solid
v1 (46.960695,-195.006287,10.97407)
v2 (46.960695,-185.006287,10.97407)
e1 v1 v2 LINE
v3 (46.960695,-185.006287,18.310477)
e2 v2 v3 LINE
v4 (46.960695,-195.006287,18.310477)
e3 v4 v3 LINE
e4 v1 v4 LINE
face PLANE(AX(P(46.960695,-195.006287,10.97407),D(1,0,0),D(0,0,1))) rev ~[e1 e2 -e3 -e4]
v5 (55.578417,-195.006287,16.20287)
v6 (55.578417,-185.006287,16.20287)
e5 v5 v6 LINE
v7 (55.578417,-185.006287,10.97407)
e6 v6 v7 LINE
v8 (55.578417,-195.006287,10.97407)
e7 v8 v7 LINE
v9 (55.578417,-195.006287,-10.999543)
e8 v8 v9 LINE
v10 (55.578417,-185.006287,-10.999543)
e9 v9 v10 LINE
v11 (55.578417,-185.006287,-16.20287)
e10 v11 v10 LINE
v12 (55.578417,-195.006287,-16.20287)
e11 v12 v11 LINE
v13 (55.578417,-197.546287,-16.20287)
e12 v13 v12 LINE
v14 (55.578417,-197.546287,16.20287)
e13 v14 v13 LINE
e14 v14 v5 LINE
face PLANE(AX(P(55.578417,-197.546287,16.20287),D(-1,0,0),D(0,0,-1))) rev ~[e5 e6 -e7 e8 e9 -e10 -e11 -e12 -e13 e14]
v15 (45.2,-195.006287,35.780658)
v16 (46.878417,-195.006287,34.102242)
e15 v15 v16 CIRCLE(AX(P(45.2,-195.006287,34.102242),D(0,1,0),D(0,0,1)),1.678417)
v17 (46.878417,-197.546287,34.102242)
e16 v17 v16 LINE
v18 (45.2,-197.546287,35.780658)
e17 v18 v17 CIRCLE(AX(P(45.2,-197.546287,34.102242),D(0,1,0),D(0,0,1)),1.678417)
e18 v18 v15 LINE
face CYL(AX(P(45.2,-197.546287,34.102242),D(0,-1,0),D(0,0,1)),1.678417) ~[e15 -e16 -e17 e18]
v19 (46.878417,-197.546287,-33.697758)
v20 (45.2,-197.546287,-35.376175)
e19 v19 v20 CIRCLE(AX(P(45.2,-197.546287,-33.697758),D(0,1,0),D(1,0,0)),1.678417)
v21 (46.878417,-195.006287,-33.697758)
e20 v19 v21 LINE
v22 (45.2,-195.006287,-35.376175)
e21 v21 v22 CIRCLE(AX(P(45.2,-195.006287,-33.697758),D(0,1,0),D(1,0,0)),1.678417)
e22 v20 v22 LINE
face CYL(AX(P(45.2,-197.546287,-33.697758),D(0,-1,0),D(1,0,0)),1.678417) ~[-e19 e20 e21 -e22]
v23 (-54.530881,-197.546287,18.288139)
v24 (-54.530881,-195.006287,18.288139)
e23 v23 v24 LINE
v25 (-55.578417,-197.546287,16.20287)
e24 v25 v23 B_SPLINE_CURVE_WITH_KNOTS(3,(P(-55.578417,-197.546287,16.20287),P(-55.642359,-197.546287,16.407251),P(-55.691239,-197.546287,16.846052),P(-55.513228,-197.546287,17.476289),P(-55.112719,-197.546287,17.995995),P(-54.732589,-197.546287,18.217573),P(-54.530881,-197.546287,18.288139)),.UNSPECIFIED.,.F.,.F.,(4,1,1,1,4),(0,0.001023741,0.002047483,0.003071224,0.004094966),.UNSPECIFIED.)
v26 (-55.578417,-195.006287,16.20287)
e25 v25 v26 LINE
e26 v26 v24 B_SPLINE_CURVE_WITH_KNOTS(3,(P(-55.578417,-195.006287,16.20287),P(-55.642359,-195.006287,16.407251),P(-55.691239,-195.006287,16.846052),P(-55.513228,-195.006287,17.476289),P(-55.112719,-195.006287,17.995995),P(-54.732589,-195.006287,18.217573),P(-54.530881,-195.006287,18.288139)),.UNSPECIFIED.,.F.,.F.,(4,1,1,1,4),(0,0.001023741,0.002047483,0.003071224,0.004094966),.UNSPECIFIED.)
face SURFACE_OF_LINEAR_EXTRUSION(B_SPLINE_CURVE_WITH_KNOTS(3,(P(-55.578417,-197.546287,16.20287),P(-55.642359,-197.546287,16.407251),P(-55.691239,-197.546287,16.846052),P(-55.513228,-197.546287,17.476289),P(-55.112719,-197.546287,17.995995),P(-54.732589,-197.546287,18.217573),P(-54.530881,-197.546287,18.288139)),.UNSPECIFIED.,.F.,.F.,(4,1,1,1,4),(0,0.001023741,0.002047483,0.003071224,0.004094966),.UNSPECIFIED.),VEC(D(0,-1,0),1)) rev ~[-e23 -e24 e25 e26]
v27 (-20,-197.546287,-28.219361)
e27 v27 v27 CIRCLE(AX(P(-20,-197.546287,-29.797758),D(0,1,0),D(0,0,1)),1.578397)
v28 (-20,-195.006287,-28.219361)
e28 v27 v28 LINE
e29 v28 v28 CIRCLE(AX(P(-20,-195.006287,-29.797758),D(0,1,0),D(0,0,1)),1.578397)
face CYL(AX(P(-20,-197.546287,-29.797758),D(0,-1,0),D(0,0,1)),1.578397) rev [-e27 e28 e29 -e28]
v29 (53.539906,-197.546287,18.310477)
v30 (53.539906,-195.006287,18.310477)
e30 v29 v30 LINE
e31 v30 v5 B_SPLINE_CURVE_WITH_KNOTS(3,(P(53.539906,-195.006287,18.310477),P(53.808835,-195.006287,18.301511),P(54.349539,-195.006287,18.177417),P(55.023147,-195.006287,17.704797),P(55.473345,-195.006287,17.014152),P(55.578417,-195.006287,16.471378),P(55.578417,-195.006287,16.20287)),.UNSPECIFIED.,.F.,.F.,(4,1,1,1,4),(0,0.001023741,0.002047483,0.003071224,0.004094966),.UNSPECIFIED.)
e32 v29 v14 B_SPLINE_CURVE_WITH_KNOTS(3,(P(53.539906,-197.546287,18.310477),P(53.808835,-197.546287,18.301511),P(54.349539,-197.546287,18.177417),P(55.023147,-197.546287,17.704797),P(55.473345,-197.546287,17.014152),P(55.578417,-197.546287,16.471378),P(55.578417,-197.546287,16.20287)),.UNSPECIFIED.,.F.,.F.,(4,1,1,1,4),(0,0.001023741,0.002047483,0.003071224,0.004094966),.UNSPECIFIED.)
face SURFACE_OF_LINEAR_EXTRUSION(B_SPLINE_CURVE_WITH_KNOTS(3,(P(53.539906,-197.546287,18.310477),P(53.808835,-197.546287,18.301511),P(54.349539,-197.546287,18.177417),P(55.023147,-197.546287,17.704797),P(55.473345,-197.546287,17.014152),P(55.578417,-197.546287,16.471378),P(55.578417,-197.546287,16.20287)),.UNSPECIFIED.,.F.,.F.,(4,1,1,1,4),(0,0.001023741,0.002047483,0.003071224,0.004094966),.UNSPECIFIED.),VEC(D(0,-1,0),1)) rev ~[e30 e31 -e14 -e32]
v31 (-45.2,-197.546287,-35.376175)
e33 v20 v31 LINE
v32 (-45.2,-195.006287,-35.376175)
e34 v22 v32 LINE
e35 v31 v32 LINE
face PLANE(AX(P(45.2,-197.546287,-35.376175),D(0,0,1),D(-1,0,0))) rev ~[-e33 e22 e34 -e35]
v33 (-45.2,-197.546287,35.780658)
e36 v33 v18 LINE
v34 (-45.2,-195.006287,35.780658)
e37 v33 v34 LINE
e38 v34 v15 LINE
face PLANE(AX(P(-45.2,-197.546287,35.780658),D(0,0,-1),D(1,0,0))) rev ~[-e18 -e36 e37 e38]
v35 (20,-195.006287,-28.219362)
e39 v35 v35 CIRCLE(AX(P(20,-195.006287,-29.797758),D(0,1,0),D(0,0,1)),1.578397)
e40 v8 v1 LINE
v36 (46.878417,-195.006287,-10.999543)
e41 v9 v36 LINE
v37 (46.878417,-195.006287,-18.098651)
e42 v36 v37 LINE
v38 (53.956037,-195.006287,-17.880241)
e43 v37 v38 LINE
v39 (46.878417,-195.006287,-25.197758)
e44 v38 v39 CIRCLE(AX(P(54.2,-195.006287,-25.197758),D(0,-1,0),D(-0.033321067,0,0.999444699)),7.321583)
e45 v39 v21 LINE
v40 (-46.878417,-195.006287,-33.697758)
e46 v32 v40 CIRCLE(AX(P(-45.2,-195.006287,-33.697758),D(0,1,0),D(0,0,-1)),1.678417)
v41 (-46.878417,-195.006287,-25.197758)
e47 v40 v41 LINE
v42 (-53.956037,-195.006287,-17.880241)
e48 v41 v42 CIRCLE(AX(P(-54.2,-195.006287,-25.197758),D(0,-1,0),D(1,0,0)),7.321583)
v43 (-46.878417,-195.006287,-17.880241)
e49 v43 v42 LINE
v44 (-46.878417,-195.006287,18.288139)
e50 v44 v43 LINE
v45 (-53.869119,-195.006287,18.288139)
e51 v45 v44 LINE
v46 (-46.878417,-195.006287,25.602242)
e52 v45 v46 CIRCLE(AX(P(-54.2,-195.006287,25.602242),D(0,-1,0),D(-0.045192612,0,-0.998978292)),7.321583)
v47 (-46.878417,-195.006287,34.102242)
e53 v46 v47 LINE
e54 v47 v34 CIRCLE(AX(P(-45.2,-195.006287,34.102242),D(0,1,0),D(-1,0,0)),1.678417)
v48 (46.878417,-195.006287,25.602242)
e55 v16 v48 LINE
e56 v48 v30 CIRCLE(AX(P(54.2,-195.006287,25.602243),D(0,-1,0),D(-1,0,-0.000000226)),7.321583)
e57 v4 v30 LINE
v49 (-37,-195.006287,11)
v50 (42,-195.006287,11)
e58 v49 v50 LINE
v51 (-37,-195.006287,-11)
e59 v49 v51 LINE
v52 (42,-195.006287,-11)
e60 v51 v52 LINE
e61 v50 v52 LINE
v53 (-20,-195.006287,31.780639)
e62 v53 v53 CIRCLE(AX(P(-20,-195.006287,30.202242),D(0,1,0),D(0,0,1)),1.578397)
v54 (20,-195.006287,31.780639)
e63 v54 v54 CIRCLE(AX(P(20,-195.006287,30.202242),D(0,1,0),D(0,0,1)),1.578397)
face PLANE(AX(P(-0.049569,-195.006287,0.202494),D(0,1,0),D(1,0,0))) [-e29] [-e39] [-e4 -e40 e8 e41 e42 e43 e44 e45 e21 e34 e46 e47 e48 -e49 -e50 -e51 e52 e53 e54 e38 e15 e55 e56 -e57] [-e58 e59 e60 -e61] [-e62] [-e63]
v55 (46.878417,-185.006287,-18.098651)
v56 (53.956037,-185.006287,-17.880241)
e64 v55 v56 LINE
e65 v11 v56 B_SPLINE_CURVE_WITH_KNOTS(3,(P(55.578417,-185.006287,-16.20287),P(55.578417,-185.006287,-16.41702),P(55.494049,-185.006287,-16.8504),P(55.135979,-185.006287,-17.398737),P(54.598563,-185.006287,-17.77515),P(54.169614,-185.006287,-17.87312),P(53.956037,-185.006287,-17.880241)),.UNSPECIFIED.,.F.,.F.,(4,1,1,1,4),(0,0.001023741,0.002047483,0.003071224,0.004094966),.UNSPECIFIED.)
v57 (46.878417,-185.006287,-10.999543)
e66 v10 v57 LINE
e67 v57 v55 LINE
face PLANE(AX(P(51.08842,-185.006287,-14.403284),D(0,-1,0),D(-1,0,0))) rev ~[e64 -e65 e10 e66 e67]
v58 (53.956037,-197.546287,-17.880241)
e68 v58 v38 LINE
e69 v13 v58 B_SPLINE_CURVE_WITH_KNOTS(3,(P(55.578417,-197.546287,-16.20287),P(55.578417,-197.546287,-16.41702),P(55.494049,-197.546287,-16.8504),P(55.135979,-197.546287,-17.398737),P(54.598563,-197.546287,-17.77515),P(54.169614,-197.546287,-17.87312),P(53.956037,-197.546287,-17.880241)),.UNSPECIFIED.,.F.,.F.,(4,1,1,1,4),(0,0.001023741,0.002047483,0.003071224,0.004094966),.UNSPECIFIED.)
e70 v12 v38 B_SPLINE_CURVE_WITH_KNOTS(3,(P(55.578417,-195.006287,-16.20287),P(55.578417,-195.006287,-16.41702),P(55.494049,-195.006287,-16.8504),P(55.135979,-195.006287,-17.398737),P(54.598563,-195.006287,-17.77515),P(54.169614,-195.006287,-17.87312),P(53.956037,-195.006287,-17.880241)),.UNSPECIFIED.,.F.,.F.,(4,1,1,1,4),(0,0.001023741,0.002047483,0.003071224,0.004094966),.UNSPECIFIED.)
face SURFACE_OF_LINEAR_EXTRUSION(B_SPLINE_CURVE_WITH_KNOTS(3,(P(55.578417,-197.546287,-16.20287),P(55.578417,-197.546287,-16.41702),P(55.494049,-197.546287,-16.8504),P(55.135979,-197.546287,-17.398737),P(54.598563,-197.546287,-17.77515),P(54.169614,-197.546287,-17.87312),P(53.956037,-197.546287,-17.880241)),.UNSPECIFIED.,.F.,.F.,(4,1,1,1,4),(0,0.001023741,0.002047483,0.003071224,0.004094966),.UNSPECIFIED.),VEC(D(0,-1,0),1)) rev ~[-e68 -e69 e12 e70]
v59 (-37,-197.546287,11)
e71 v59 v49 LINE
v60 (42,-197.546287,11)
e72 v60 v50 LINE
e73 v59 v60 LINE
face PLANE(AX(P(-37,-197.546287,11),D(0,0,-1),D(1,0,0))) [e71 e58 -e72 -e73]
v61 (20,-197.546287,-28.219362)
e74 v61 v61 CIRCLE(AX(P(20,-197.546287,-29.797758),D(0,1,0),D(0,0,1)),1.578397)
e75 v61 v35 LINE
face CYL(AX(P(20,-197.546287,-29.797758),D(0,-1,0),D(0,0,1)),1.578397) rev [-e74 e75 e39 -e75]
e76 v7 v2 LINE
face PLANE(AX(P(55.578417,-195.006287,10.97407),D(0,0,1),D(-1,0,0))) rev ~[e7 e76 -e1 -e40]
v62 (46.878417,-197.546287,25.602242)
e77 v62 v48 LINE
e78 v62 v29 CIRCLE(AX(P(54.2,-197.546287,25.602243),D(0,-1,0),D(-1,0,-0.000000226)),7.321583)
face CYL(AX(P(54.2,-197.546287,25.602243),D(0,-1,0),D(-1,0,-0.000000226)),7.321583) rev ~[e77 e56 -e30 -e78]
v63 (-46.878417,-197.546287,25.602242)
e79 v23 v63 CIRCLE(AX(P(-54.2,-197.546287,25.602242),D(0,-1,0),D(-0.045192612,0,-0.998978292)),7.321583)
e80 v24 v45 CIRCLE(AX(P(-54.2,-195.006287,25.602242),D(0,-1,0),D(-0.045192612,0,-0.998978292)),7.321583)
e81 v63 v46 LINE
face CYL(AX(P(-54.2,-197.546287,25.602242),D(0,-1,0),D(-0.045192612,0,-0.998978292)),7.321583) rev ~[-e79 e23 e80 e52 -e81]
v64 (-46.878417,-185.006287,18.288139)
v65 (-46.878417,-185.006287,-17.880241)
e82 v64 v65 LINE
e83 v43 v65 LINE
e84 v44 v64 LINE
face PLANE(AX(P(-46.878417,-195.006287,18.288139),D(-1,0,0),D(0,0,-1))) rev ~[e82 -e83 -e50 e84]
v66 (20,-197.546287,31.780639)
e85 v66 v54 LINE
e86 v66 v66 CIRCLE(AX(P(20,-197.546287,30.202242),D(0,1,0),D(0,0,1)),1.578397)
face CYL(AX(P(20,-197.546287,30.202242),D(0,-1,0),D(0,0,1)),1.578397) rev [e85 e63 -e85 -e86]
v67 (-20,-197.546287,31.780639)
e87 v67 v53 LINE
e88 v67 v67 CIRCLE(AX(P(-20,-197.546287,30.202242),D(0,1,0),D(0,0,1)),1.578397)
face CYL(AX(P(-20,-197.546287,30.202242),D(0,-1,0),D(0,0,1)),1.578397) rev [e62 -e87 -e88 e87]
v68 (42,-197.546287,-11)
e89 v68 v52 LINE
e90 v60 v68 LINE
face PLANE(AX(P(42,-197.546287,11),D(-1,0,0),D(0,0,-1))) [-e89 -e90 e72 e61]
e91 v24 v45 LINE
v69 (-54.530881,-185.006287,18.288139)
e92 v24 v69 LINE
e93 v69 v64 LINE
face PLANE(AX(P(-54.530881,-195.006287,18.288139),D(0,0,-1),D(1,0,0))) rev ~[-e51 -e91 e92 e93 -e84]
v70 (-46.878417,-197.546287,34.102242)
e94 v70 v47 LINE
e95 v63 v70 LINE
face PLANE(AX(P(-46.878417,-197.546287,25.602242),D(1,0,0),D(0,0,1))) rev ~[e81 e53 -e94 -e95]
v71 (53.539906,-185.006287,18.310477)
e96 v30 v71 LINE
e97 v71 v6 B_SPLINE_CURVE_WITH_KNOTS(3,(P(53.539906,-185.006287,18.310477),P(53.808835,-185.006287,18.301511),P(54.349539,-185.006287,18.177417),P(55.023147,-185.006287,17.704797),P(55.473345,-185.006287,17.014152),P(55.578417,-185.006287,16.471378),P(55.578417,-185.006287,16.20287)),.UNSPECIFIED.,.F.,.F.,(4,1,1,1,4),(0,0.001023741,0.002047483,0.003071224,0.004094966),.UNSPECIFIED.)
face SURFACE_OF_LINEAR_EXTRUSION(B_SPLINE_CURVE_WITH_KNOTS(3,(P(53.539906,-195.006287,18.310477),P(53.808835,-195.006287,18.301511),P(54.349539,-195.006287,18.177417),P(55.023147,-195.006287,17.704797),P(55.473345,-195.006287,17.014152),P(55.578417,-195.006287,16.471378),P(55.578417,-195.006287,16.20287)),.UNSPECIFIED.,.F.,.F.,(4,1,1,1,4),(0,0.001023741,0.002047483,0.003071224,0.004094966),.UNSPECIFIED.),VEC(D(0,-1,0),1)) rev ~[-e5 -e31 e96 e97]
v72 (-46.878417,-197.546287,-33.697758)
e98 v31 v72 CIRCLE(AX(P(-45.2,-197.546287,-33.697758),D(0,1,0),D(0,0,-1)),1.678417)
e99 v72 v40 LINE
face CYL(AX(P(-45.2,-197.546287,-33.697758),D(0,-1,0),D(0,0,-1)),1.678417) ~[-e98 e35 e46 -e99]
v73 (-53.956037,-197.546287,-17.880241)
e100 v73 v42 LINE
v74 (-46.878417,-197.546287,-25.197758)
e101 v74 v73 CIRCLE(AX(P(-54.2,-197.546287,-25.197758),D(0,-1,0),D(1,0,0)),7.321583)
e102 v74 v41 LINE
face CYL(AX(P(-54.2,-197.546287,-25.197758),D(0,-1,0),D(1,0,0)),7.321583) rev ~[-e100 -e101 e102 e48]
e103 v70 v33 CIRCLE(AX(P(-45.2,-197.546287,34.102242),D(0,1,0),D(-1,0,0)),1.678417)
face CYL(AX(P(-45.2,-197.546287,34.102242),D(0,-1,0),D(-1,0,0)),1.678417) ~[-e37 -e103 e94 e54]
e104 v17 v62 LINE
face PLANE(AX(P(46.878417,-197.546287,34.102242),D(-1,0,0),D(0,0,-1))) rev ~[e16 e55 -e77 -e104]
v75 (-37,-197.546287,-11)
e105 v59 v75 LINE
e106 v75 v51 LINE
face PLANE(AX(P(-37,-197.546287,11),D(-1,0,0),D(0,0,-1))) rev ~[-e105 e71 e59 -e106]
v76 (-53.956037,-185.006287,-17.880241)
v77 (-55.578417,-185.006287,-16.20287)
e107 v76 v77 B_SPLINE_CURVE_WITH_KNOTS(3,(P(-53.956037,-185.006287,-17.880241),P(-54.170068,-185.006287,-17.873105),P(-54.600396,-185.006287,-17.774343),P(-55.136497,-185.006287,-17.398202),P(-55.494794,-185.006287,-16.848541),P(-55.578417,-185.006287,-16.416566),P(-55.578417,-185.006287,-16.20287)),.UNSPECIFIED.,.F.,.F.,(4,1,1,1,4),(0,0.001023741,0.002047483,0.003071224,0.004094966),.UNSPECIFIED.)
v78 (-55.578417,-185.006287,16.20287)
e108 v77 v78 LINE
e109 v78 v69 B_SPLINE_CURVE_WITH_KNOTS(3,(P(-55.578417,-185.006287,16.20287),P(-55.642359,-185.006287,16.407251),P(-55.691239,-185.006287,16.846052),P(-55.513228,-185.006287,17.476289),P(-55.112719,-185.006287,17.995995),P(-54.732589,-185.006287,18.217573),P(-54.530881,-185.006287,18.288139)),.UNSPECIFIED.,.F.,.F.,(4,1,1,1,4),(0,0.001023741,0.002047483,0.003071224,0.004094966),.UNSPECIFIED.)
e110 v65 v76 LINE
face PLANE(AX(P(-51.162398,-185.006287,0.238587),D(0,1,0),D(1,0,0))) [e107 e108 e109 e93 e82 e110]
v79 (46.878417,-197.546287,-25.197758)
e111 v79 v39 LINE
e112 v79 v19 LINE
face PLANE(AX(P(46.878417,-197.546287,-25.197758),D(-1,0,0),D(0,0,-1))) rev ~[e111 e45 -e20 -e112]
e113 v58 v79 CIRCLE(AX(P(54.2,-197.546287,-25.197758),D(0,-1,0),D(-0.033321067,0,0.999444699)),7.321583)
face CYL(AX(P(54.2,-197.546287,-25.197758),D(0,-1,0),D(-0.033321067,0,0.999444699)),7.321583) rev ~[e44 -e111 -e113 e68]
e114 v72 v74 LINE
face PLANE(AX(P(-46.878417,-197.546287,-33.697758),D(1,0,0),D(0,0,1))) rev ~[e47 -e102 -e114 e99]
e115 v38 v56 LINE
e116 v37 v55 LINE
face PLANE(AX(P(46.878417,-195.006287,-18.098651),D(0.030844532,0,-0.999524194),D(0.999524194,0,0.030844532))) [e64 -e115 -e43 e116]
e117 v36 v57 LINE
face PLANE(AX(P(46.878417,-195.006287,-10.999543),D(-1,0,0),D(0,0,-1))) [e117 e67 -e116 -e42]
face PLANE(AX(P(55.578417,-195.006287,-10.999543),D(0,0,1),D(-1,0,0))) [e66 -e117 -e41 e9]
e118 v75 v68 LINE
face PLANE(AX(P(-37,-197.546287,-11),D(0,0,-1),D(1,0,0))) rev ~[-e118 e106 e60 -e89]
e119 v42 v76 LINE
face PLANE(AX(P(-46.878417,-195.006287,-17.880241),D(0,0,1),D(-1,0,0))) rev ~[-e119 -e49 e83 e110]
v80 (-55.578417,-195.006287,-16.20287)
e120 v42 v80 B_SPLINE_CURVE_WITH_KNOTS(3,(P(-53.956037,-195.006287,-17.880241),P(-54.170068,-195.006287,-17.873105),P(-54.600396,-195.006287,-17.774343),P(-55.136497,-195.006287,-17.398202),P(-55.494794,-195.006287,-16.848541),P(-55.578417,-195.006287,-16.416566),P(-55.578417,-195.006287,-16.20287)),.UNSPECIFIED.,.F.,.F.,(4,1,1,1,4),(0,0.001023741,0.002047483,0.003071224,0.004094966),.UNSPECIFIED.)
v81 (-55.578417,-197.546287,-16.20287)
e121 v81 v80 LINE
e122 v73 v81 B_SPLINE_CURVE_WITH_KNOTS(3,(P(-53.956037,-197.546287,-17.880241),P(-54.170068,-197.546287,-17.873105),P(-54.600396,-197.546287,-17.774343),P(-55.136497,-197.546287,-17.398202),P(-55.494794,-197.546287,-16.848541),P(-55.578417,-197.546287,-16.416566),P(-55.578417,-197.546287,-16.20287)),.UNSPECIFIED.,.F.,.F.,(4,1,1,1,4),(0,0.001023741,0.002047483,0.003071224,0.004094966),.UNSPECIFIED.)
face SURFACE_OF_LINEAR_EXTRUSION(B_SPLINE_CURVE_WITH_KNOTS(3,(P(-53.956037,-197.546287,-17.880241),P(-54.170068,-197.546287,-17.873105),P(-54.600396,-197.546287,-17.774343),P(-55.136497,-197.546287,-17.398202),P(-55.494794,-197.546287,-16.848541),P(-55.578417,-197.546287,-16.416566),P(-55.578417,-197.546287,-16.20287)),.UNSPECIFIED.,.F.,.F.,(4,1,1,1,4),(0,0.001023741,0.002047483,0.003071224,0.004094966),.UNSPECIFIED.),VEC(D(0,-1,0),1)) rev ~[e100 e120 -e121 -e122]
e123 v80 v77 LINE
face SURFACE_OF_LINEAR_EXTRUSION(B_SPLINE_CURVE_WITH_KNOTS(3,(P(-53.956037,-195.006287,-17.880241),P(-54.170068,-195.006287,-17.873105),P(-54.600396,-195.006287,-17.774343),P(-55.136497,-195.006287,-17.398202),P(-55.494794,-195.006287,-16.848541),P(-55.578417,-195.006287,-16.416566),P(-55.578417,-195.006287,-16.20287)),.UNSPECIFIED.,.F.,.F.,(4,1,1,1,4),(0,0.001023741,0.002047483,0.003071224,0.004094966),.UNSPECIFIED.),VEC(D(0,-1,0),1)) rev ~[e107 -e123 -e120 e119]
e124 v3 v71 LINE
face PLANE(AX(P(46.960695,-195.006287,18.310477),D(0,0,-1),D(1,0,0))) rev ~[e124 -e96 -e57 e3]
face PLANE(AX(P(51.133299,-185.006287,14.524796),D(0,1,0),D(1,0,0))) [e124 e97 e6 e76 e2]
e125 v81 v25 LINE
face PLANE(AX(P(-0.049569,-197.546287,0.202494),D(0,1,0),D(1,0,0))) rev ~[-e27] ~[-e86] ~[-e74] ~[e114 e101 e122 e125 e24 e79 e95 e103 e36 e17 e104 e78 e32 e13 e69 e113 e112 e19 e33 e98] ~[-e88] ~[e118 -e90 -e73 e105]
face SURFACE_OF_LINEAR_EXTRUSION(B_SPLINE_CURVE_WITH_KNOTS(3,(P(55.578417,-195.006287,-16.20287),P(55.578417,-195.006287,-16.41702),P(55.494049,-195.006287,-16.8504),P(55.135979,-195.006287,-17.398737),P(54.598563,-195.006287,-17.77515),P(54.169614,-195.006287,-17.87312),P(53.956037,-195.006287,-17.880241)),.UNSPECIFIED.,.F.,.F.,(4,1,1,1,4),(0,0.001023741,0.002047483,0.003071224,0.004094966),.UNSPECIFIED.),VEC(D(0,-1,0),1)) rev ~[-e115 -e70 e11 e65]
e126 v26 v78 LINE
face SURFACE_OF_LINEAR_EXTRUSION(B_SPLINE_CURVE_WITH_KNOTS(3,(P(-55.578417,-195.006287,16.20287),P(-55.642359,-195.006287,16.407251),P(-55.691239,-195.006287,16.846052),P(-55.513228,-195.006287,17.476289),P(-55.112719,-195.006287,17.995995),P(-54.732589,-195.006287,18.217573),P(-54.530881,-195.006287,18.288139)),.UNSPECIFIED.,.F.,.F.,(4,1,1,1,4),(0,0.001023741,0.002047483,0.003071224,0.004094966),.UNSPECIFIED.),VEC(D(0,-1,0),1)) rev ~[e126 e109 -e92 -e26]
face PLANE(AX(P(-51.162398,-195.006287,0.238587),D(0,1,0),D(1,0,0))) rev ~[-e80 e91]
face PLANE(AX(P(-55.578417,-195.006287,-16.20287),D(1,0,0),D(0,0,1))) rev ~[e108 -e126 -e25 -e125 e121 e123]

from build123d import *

# Parameters (mm, degrees)
SKETCH1_R           = 1.578396945
SKETCH1_W           = 79
SKETCH1_H           = 22
BOSS_EXTRUDE2_DEPTH = 2.54
BOSS_EXTRUDE3_DEPTH = 10


with BuildPart() as part:
    # Sketch1 → Boss-Extrude2 (new body)
    with BuildSketch(Plane(origin=(0, -197.546287398, 0), x_dir=(1, 0, 0), z_dir=(0, 1, 0))):
        with BuildLine():
            Line((-46.878416922, -25.602241557), (-46.878416922, -34.102241557))
            ThreePointArc((-46.878416922, -34.102241557), (-46.386819987, -35.289061544), (-45.2, -35.780658479))
            Line((-45.2, -35.780658479), (45.2, -35.780658479))
            ThreePointArc((45.2, -35.780658479), (46.386819987, -35.289061544), (46.878416922, -34.102241557))
            Line((46.878416922, -34.102241557), (46.878416922, -25.602241557))
            ThreePointArc((46.878416922, -25.602241557), (48.794516666, -20.66399163), (53.539905947, -18.310476992))
            add(Edge.make_bspline(
                [(53.539905947, -18.310476992), (53.808834541, -18.301511025), (54.349538715, -18.177417281), (55.023147103, -17.704797385), (55.473345475, -17.014152088), (55.578416916, -16.471377582), (55.578416922, -16.202870307)],
                knots=[0, 0, 0, 0, 0.001023741, 0.002047483, 0.003071224, 0.004094966, 0.004094966, 0.004094966, 0.004094966], degree=3))
            Line((55.578416922, -16.202870307), (55.578416922, 16.202870307))
            add(Edge.make_bspline(
                [(55.578416922, 16.202870307), (55.578416922, 16.417020125), (55.494048854, 16.850399632), (55.135979489, 17.398736831), (54.59856303, 17.775150348), (54.169613982, 17.873120493), (53.956037061, 17.880241063)],
                knots=[0, 0, 0, 0, 0.001023741, 0.002047483, 0.003071224, 0.004094966, 0.004094966, 0.004094966, 0.004094966], degree=3))
            ThreePointArc((53.956037061, 17.880241063), (48.93731184, 20.107602085), (46.878416939, 25.197758443))
            Line((46.878416939, 25.197758443), (46.878416939, 33.697758443))
            ThreePointArc((46.878416939, 33.697758443), (46.386819998, 34.884578436), (45.2, 35.376175365))
            Line((45.2, 35.376175365), (-45.2, 35.376175365))
            ThreePointArc((-45.2, 35.376175365), (-46.386819987, 34.88457843), (-46.878416922, 33.697758443))
            Line((-46.878416922, 33.697758443), (-46.878416922, 25.197758443))
            ThreePointArc((-46.878416922, 25.197758443), (-48.93731182, 20.107602071), (-53.956037052, 17.880241046))
            add(Edge.make_bspline(
                [(-53.956037052, 17.880241046), (-54.170067952, 17.873105344), (-54.600395569, 17.774343455), (-55.136497018, 17.398201742), (-55.494794219, 16.848541208), (-55.578416918, 16.416565886), (-55.578416922, 16.202870299)],
                knots=[0, 0, 0, 0, 0.001023741, 0.002047483, 0.003071224, 0.004094966, 0.004094966, 0.004094966, 0.004094966], degree=3))
            Line((-55.578416922, 16.202870299), (-55.578416922, -16.202870299))
            add(Edge.make_bspline(
                [(-55.578416922, -16.202870299), (-55.642358512, -16.407251091), (-55.69123907, -16.846051723), (-55.513228421, -17.476288615), (-55.112718518, -17.995994665), (-54.73258941, -18.21757272), (-54.530881465, -18.288139)],
                knots=[0, 0, 0, 0, 0.001023741, 0.002047483, 0.003071224, 0.004094966, 0.004094966, 0.004094966, 0.004094966], degree=3))
            ThreePointArc((-54.530881465, -18.288139), (-49.141195663, -20.309408908), (-46.878416922, -25.602241557))
        make_face()
        with Locations(Location((-20, 29.797758443, 0), (0, 0, 270))):
            Circle(SKETCH1_R, mode=Mode.SUBTRACT)
        with Locations(Location((-20, -30.202241557, 0), (0, 0, 270))):
            Circle(SKETCH1_R, mode=Mode.SUBTRACT)
        with Locations(Location((20, -30.202241557, 0), (0, 0, 270))):
            Circle(SKETCH1_R, mode=Mode.SUBTRACT)
        with Locations(Location((20.000000018, 29.79775846, 0), (0, 0, 270))):
            Circle(SKETCH1_R, mode=Mode.SUBTRACT)
        with Locations((2.5, 0)):
            Rectangle(SKETCH1_W, SKETCH1_H, mode=Mode.SUBTRACT)
    extrude(amount=BOSS_EXTRUDE2_DEPTH)

    # Sketch2 → Boss-Extrude3 (add)
    with BuildSketch(Plane(origin=(0, -195.006287398, 0), x_dir=(1, 0, 0), z_dir=(0, 1, 0))):
        with BuildLine():
            Line((-55.578416922, 16.202870299), (-55.578416922, -16.202870299))
            add(Edge.make_bspline(
                [(-55.578416922, -16.202870299), (-55.642358512, -16.407251091), (-55.69123907, -16.846051723), (-55.513228421, -17.476288615), (-55.112718518, -17.995994665), (-54.73258941, -18.21757272), (-54.530881465, -18.288139)],
                knots=[0, 0, 0, 0, 0.001023741, 0.002047483, 0.003071224, 0.004094966, 0.004094966, 0.004094966, 0.004094966], degree=3))
            Line((-54.530881465, -18.288139), (-46.878416922, -18.288139))
            Line((-46.878416922, -18.288139), (-46.878416922, 17.880241046))
            Line((-46.878416922, 17.880241046), (-53.956037052, 17.880241046))
            add(Edge.make_bspline(
                [(-53.956037052, 17.880241046), (-54.170067952, 17.873105344), (-54.600395569, 17.774343455), (-55.136497018, 17.398201742), (-55.494794219, 16.848541208), (-55.578416918, 16.416565886), (-55.578416922, 16.202870299)],
                knots=[0, 0, 0, 0, 0.001023741, 0.002047483, 0.003071224, 0.004094966, 0.004094966, 0.004094966, 0.004094966], degree=3))
        make_face()
        with BuildLine():
            Line((55.578416922, -10.974069665), (46.960695339, -10.974069665))
            Line((46.960695339, -10.974069665), (46.960695339, -18.310476992))
            Line((46.960695339, -18.310476992), (53.539905947, -18.310476992))
            add(Edge.make_bspline(
                [(53.539905947, -18.310476992), (53.808834541, -18.301511025), (54.349538715, -18.177417281), (55.023147103, -17.704797385), (55.473345475, -17.014152088), (55.578416916, -16.471377582), (55.578416922, -16.202870307)],
                knots=[0, 0, 0, 0, 0.001023741, 0.002047483, 0.003071224, 0.004094966, 0.004094966, 0.004094966, 0.004094966], degree=3))
            Line((55.578416922, -16.202870307), (55.578416922, -10.974069665))
        make_face()
        with BuildLine():
            Line((55.578416922, 10.999543279), (46.878416939, 10.999543279))
            Line((46.878416939, 10.999543279), (46.878416939, 18.098650861))
            Line((46.878416939, 18.098650861), (53.956037061, 17.880241063))
            add(Edge.make_bspline(
                [(55.578416922, 16.202870307), (55.578416922, 16.417020125), (55.494048854, 16.850399632), (55.135979489, 17.398736831), (54.59856303, 17.775150348), (54.169613982, 17.873120493), (53.956037061, 17.880241063)],
                knots=[0, 0, 0, 0, 0.001023741, 0.002047483, 0.003071224, 0.004094966, 0.004094966, 0.004094966, 0.004094966], degree=3))
            Line((55.578416922, 16.202870307), (55.578416922, 10.999543279))
        make_face()
    extrude(amount=BOSS_EXTRUDE3_DEPTH)


solid = part.part
